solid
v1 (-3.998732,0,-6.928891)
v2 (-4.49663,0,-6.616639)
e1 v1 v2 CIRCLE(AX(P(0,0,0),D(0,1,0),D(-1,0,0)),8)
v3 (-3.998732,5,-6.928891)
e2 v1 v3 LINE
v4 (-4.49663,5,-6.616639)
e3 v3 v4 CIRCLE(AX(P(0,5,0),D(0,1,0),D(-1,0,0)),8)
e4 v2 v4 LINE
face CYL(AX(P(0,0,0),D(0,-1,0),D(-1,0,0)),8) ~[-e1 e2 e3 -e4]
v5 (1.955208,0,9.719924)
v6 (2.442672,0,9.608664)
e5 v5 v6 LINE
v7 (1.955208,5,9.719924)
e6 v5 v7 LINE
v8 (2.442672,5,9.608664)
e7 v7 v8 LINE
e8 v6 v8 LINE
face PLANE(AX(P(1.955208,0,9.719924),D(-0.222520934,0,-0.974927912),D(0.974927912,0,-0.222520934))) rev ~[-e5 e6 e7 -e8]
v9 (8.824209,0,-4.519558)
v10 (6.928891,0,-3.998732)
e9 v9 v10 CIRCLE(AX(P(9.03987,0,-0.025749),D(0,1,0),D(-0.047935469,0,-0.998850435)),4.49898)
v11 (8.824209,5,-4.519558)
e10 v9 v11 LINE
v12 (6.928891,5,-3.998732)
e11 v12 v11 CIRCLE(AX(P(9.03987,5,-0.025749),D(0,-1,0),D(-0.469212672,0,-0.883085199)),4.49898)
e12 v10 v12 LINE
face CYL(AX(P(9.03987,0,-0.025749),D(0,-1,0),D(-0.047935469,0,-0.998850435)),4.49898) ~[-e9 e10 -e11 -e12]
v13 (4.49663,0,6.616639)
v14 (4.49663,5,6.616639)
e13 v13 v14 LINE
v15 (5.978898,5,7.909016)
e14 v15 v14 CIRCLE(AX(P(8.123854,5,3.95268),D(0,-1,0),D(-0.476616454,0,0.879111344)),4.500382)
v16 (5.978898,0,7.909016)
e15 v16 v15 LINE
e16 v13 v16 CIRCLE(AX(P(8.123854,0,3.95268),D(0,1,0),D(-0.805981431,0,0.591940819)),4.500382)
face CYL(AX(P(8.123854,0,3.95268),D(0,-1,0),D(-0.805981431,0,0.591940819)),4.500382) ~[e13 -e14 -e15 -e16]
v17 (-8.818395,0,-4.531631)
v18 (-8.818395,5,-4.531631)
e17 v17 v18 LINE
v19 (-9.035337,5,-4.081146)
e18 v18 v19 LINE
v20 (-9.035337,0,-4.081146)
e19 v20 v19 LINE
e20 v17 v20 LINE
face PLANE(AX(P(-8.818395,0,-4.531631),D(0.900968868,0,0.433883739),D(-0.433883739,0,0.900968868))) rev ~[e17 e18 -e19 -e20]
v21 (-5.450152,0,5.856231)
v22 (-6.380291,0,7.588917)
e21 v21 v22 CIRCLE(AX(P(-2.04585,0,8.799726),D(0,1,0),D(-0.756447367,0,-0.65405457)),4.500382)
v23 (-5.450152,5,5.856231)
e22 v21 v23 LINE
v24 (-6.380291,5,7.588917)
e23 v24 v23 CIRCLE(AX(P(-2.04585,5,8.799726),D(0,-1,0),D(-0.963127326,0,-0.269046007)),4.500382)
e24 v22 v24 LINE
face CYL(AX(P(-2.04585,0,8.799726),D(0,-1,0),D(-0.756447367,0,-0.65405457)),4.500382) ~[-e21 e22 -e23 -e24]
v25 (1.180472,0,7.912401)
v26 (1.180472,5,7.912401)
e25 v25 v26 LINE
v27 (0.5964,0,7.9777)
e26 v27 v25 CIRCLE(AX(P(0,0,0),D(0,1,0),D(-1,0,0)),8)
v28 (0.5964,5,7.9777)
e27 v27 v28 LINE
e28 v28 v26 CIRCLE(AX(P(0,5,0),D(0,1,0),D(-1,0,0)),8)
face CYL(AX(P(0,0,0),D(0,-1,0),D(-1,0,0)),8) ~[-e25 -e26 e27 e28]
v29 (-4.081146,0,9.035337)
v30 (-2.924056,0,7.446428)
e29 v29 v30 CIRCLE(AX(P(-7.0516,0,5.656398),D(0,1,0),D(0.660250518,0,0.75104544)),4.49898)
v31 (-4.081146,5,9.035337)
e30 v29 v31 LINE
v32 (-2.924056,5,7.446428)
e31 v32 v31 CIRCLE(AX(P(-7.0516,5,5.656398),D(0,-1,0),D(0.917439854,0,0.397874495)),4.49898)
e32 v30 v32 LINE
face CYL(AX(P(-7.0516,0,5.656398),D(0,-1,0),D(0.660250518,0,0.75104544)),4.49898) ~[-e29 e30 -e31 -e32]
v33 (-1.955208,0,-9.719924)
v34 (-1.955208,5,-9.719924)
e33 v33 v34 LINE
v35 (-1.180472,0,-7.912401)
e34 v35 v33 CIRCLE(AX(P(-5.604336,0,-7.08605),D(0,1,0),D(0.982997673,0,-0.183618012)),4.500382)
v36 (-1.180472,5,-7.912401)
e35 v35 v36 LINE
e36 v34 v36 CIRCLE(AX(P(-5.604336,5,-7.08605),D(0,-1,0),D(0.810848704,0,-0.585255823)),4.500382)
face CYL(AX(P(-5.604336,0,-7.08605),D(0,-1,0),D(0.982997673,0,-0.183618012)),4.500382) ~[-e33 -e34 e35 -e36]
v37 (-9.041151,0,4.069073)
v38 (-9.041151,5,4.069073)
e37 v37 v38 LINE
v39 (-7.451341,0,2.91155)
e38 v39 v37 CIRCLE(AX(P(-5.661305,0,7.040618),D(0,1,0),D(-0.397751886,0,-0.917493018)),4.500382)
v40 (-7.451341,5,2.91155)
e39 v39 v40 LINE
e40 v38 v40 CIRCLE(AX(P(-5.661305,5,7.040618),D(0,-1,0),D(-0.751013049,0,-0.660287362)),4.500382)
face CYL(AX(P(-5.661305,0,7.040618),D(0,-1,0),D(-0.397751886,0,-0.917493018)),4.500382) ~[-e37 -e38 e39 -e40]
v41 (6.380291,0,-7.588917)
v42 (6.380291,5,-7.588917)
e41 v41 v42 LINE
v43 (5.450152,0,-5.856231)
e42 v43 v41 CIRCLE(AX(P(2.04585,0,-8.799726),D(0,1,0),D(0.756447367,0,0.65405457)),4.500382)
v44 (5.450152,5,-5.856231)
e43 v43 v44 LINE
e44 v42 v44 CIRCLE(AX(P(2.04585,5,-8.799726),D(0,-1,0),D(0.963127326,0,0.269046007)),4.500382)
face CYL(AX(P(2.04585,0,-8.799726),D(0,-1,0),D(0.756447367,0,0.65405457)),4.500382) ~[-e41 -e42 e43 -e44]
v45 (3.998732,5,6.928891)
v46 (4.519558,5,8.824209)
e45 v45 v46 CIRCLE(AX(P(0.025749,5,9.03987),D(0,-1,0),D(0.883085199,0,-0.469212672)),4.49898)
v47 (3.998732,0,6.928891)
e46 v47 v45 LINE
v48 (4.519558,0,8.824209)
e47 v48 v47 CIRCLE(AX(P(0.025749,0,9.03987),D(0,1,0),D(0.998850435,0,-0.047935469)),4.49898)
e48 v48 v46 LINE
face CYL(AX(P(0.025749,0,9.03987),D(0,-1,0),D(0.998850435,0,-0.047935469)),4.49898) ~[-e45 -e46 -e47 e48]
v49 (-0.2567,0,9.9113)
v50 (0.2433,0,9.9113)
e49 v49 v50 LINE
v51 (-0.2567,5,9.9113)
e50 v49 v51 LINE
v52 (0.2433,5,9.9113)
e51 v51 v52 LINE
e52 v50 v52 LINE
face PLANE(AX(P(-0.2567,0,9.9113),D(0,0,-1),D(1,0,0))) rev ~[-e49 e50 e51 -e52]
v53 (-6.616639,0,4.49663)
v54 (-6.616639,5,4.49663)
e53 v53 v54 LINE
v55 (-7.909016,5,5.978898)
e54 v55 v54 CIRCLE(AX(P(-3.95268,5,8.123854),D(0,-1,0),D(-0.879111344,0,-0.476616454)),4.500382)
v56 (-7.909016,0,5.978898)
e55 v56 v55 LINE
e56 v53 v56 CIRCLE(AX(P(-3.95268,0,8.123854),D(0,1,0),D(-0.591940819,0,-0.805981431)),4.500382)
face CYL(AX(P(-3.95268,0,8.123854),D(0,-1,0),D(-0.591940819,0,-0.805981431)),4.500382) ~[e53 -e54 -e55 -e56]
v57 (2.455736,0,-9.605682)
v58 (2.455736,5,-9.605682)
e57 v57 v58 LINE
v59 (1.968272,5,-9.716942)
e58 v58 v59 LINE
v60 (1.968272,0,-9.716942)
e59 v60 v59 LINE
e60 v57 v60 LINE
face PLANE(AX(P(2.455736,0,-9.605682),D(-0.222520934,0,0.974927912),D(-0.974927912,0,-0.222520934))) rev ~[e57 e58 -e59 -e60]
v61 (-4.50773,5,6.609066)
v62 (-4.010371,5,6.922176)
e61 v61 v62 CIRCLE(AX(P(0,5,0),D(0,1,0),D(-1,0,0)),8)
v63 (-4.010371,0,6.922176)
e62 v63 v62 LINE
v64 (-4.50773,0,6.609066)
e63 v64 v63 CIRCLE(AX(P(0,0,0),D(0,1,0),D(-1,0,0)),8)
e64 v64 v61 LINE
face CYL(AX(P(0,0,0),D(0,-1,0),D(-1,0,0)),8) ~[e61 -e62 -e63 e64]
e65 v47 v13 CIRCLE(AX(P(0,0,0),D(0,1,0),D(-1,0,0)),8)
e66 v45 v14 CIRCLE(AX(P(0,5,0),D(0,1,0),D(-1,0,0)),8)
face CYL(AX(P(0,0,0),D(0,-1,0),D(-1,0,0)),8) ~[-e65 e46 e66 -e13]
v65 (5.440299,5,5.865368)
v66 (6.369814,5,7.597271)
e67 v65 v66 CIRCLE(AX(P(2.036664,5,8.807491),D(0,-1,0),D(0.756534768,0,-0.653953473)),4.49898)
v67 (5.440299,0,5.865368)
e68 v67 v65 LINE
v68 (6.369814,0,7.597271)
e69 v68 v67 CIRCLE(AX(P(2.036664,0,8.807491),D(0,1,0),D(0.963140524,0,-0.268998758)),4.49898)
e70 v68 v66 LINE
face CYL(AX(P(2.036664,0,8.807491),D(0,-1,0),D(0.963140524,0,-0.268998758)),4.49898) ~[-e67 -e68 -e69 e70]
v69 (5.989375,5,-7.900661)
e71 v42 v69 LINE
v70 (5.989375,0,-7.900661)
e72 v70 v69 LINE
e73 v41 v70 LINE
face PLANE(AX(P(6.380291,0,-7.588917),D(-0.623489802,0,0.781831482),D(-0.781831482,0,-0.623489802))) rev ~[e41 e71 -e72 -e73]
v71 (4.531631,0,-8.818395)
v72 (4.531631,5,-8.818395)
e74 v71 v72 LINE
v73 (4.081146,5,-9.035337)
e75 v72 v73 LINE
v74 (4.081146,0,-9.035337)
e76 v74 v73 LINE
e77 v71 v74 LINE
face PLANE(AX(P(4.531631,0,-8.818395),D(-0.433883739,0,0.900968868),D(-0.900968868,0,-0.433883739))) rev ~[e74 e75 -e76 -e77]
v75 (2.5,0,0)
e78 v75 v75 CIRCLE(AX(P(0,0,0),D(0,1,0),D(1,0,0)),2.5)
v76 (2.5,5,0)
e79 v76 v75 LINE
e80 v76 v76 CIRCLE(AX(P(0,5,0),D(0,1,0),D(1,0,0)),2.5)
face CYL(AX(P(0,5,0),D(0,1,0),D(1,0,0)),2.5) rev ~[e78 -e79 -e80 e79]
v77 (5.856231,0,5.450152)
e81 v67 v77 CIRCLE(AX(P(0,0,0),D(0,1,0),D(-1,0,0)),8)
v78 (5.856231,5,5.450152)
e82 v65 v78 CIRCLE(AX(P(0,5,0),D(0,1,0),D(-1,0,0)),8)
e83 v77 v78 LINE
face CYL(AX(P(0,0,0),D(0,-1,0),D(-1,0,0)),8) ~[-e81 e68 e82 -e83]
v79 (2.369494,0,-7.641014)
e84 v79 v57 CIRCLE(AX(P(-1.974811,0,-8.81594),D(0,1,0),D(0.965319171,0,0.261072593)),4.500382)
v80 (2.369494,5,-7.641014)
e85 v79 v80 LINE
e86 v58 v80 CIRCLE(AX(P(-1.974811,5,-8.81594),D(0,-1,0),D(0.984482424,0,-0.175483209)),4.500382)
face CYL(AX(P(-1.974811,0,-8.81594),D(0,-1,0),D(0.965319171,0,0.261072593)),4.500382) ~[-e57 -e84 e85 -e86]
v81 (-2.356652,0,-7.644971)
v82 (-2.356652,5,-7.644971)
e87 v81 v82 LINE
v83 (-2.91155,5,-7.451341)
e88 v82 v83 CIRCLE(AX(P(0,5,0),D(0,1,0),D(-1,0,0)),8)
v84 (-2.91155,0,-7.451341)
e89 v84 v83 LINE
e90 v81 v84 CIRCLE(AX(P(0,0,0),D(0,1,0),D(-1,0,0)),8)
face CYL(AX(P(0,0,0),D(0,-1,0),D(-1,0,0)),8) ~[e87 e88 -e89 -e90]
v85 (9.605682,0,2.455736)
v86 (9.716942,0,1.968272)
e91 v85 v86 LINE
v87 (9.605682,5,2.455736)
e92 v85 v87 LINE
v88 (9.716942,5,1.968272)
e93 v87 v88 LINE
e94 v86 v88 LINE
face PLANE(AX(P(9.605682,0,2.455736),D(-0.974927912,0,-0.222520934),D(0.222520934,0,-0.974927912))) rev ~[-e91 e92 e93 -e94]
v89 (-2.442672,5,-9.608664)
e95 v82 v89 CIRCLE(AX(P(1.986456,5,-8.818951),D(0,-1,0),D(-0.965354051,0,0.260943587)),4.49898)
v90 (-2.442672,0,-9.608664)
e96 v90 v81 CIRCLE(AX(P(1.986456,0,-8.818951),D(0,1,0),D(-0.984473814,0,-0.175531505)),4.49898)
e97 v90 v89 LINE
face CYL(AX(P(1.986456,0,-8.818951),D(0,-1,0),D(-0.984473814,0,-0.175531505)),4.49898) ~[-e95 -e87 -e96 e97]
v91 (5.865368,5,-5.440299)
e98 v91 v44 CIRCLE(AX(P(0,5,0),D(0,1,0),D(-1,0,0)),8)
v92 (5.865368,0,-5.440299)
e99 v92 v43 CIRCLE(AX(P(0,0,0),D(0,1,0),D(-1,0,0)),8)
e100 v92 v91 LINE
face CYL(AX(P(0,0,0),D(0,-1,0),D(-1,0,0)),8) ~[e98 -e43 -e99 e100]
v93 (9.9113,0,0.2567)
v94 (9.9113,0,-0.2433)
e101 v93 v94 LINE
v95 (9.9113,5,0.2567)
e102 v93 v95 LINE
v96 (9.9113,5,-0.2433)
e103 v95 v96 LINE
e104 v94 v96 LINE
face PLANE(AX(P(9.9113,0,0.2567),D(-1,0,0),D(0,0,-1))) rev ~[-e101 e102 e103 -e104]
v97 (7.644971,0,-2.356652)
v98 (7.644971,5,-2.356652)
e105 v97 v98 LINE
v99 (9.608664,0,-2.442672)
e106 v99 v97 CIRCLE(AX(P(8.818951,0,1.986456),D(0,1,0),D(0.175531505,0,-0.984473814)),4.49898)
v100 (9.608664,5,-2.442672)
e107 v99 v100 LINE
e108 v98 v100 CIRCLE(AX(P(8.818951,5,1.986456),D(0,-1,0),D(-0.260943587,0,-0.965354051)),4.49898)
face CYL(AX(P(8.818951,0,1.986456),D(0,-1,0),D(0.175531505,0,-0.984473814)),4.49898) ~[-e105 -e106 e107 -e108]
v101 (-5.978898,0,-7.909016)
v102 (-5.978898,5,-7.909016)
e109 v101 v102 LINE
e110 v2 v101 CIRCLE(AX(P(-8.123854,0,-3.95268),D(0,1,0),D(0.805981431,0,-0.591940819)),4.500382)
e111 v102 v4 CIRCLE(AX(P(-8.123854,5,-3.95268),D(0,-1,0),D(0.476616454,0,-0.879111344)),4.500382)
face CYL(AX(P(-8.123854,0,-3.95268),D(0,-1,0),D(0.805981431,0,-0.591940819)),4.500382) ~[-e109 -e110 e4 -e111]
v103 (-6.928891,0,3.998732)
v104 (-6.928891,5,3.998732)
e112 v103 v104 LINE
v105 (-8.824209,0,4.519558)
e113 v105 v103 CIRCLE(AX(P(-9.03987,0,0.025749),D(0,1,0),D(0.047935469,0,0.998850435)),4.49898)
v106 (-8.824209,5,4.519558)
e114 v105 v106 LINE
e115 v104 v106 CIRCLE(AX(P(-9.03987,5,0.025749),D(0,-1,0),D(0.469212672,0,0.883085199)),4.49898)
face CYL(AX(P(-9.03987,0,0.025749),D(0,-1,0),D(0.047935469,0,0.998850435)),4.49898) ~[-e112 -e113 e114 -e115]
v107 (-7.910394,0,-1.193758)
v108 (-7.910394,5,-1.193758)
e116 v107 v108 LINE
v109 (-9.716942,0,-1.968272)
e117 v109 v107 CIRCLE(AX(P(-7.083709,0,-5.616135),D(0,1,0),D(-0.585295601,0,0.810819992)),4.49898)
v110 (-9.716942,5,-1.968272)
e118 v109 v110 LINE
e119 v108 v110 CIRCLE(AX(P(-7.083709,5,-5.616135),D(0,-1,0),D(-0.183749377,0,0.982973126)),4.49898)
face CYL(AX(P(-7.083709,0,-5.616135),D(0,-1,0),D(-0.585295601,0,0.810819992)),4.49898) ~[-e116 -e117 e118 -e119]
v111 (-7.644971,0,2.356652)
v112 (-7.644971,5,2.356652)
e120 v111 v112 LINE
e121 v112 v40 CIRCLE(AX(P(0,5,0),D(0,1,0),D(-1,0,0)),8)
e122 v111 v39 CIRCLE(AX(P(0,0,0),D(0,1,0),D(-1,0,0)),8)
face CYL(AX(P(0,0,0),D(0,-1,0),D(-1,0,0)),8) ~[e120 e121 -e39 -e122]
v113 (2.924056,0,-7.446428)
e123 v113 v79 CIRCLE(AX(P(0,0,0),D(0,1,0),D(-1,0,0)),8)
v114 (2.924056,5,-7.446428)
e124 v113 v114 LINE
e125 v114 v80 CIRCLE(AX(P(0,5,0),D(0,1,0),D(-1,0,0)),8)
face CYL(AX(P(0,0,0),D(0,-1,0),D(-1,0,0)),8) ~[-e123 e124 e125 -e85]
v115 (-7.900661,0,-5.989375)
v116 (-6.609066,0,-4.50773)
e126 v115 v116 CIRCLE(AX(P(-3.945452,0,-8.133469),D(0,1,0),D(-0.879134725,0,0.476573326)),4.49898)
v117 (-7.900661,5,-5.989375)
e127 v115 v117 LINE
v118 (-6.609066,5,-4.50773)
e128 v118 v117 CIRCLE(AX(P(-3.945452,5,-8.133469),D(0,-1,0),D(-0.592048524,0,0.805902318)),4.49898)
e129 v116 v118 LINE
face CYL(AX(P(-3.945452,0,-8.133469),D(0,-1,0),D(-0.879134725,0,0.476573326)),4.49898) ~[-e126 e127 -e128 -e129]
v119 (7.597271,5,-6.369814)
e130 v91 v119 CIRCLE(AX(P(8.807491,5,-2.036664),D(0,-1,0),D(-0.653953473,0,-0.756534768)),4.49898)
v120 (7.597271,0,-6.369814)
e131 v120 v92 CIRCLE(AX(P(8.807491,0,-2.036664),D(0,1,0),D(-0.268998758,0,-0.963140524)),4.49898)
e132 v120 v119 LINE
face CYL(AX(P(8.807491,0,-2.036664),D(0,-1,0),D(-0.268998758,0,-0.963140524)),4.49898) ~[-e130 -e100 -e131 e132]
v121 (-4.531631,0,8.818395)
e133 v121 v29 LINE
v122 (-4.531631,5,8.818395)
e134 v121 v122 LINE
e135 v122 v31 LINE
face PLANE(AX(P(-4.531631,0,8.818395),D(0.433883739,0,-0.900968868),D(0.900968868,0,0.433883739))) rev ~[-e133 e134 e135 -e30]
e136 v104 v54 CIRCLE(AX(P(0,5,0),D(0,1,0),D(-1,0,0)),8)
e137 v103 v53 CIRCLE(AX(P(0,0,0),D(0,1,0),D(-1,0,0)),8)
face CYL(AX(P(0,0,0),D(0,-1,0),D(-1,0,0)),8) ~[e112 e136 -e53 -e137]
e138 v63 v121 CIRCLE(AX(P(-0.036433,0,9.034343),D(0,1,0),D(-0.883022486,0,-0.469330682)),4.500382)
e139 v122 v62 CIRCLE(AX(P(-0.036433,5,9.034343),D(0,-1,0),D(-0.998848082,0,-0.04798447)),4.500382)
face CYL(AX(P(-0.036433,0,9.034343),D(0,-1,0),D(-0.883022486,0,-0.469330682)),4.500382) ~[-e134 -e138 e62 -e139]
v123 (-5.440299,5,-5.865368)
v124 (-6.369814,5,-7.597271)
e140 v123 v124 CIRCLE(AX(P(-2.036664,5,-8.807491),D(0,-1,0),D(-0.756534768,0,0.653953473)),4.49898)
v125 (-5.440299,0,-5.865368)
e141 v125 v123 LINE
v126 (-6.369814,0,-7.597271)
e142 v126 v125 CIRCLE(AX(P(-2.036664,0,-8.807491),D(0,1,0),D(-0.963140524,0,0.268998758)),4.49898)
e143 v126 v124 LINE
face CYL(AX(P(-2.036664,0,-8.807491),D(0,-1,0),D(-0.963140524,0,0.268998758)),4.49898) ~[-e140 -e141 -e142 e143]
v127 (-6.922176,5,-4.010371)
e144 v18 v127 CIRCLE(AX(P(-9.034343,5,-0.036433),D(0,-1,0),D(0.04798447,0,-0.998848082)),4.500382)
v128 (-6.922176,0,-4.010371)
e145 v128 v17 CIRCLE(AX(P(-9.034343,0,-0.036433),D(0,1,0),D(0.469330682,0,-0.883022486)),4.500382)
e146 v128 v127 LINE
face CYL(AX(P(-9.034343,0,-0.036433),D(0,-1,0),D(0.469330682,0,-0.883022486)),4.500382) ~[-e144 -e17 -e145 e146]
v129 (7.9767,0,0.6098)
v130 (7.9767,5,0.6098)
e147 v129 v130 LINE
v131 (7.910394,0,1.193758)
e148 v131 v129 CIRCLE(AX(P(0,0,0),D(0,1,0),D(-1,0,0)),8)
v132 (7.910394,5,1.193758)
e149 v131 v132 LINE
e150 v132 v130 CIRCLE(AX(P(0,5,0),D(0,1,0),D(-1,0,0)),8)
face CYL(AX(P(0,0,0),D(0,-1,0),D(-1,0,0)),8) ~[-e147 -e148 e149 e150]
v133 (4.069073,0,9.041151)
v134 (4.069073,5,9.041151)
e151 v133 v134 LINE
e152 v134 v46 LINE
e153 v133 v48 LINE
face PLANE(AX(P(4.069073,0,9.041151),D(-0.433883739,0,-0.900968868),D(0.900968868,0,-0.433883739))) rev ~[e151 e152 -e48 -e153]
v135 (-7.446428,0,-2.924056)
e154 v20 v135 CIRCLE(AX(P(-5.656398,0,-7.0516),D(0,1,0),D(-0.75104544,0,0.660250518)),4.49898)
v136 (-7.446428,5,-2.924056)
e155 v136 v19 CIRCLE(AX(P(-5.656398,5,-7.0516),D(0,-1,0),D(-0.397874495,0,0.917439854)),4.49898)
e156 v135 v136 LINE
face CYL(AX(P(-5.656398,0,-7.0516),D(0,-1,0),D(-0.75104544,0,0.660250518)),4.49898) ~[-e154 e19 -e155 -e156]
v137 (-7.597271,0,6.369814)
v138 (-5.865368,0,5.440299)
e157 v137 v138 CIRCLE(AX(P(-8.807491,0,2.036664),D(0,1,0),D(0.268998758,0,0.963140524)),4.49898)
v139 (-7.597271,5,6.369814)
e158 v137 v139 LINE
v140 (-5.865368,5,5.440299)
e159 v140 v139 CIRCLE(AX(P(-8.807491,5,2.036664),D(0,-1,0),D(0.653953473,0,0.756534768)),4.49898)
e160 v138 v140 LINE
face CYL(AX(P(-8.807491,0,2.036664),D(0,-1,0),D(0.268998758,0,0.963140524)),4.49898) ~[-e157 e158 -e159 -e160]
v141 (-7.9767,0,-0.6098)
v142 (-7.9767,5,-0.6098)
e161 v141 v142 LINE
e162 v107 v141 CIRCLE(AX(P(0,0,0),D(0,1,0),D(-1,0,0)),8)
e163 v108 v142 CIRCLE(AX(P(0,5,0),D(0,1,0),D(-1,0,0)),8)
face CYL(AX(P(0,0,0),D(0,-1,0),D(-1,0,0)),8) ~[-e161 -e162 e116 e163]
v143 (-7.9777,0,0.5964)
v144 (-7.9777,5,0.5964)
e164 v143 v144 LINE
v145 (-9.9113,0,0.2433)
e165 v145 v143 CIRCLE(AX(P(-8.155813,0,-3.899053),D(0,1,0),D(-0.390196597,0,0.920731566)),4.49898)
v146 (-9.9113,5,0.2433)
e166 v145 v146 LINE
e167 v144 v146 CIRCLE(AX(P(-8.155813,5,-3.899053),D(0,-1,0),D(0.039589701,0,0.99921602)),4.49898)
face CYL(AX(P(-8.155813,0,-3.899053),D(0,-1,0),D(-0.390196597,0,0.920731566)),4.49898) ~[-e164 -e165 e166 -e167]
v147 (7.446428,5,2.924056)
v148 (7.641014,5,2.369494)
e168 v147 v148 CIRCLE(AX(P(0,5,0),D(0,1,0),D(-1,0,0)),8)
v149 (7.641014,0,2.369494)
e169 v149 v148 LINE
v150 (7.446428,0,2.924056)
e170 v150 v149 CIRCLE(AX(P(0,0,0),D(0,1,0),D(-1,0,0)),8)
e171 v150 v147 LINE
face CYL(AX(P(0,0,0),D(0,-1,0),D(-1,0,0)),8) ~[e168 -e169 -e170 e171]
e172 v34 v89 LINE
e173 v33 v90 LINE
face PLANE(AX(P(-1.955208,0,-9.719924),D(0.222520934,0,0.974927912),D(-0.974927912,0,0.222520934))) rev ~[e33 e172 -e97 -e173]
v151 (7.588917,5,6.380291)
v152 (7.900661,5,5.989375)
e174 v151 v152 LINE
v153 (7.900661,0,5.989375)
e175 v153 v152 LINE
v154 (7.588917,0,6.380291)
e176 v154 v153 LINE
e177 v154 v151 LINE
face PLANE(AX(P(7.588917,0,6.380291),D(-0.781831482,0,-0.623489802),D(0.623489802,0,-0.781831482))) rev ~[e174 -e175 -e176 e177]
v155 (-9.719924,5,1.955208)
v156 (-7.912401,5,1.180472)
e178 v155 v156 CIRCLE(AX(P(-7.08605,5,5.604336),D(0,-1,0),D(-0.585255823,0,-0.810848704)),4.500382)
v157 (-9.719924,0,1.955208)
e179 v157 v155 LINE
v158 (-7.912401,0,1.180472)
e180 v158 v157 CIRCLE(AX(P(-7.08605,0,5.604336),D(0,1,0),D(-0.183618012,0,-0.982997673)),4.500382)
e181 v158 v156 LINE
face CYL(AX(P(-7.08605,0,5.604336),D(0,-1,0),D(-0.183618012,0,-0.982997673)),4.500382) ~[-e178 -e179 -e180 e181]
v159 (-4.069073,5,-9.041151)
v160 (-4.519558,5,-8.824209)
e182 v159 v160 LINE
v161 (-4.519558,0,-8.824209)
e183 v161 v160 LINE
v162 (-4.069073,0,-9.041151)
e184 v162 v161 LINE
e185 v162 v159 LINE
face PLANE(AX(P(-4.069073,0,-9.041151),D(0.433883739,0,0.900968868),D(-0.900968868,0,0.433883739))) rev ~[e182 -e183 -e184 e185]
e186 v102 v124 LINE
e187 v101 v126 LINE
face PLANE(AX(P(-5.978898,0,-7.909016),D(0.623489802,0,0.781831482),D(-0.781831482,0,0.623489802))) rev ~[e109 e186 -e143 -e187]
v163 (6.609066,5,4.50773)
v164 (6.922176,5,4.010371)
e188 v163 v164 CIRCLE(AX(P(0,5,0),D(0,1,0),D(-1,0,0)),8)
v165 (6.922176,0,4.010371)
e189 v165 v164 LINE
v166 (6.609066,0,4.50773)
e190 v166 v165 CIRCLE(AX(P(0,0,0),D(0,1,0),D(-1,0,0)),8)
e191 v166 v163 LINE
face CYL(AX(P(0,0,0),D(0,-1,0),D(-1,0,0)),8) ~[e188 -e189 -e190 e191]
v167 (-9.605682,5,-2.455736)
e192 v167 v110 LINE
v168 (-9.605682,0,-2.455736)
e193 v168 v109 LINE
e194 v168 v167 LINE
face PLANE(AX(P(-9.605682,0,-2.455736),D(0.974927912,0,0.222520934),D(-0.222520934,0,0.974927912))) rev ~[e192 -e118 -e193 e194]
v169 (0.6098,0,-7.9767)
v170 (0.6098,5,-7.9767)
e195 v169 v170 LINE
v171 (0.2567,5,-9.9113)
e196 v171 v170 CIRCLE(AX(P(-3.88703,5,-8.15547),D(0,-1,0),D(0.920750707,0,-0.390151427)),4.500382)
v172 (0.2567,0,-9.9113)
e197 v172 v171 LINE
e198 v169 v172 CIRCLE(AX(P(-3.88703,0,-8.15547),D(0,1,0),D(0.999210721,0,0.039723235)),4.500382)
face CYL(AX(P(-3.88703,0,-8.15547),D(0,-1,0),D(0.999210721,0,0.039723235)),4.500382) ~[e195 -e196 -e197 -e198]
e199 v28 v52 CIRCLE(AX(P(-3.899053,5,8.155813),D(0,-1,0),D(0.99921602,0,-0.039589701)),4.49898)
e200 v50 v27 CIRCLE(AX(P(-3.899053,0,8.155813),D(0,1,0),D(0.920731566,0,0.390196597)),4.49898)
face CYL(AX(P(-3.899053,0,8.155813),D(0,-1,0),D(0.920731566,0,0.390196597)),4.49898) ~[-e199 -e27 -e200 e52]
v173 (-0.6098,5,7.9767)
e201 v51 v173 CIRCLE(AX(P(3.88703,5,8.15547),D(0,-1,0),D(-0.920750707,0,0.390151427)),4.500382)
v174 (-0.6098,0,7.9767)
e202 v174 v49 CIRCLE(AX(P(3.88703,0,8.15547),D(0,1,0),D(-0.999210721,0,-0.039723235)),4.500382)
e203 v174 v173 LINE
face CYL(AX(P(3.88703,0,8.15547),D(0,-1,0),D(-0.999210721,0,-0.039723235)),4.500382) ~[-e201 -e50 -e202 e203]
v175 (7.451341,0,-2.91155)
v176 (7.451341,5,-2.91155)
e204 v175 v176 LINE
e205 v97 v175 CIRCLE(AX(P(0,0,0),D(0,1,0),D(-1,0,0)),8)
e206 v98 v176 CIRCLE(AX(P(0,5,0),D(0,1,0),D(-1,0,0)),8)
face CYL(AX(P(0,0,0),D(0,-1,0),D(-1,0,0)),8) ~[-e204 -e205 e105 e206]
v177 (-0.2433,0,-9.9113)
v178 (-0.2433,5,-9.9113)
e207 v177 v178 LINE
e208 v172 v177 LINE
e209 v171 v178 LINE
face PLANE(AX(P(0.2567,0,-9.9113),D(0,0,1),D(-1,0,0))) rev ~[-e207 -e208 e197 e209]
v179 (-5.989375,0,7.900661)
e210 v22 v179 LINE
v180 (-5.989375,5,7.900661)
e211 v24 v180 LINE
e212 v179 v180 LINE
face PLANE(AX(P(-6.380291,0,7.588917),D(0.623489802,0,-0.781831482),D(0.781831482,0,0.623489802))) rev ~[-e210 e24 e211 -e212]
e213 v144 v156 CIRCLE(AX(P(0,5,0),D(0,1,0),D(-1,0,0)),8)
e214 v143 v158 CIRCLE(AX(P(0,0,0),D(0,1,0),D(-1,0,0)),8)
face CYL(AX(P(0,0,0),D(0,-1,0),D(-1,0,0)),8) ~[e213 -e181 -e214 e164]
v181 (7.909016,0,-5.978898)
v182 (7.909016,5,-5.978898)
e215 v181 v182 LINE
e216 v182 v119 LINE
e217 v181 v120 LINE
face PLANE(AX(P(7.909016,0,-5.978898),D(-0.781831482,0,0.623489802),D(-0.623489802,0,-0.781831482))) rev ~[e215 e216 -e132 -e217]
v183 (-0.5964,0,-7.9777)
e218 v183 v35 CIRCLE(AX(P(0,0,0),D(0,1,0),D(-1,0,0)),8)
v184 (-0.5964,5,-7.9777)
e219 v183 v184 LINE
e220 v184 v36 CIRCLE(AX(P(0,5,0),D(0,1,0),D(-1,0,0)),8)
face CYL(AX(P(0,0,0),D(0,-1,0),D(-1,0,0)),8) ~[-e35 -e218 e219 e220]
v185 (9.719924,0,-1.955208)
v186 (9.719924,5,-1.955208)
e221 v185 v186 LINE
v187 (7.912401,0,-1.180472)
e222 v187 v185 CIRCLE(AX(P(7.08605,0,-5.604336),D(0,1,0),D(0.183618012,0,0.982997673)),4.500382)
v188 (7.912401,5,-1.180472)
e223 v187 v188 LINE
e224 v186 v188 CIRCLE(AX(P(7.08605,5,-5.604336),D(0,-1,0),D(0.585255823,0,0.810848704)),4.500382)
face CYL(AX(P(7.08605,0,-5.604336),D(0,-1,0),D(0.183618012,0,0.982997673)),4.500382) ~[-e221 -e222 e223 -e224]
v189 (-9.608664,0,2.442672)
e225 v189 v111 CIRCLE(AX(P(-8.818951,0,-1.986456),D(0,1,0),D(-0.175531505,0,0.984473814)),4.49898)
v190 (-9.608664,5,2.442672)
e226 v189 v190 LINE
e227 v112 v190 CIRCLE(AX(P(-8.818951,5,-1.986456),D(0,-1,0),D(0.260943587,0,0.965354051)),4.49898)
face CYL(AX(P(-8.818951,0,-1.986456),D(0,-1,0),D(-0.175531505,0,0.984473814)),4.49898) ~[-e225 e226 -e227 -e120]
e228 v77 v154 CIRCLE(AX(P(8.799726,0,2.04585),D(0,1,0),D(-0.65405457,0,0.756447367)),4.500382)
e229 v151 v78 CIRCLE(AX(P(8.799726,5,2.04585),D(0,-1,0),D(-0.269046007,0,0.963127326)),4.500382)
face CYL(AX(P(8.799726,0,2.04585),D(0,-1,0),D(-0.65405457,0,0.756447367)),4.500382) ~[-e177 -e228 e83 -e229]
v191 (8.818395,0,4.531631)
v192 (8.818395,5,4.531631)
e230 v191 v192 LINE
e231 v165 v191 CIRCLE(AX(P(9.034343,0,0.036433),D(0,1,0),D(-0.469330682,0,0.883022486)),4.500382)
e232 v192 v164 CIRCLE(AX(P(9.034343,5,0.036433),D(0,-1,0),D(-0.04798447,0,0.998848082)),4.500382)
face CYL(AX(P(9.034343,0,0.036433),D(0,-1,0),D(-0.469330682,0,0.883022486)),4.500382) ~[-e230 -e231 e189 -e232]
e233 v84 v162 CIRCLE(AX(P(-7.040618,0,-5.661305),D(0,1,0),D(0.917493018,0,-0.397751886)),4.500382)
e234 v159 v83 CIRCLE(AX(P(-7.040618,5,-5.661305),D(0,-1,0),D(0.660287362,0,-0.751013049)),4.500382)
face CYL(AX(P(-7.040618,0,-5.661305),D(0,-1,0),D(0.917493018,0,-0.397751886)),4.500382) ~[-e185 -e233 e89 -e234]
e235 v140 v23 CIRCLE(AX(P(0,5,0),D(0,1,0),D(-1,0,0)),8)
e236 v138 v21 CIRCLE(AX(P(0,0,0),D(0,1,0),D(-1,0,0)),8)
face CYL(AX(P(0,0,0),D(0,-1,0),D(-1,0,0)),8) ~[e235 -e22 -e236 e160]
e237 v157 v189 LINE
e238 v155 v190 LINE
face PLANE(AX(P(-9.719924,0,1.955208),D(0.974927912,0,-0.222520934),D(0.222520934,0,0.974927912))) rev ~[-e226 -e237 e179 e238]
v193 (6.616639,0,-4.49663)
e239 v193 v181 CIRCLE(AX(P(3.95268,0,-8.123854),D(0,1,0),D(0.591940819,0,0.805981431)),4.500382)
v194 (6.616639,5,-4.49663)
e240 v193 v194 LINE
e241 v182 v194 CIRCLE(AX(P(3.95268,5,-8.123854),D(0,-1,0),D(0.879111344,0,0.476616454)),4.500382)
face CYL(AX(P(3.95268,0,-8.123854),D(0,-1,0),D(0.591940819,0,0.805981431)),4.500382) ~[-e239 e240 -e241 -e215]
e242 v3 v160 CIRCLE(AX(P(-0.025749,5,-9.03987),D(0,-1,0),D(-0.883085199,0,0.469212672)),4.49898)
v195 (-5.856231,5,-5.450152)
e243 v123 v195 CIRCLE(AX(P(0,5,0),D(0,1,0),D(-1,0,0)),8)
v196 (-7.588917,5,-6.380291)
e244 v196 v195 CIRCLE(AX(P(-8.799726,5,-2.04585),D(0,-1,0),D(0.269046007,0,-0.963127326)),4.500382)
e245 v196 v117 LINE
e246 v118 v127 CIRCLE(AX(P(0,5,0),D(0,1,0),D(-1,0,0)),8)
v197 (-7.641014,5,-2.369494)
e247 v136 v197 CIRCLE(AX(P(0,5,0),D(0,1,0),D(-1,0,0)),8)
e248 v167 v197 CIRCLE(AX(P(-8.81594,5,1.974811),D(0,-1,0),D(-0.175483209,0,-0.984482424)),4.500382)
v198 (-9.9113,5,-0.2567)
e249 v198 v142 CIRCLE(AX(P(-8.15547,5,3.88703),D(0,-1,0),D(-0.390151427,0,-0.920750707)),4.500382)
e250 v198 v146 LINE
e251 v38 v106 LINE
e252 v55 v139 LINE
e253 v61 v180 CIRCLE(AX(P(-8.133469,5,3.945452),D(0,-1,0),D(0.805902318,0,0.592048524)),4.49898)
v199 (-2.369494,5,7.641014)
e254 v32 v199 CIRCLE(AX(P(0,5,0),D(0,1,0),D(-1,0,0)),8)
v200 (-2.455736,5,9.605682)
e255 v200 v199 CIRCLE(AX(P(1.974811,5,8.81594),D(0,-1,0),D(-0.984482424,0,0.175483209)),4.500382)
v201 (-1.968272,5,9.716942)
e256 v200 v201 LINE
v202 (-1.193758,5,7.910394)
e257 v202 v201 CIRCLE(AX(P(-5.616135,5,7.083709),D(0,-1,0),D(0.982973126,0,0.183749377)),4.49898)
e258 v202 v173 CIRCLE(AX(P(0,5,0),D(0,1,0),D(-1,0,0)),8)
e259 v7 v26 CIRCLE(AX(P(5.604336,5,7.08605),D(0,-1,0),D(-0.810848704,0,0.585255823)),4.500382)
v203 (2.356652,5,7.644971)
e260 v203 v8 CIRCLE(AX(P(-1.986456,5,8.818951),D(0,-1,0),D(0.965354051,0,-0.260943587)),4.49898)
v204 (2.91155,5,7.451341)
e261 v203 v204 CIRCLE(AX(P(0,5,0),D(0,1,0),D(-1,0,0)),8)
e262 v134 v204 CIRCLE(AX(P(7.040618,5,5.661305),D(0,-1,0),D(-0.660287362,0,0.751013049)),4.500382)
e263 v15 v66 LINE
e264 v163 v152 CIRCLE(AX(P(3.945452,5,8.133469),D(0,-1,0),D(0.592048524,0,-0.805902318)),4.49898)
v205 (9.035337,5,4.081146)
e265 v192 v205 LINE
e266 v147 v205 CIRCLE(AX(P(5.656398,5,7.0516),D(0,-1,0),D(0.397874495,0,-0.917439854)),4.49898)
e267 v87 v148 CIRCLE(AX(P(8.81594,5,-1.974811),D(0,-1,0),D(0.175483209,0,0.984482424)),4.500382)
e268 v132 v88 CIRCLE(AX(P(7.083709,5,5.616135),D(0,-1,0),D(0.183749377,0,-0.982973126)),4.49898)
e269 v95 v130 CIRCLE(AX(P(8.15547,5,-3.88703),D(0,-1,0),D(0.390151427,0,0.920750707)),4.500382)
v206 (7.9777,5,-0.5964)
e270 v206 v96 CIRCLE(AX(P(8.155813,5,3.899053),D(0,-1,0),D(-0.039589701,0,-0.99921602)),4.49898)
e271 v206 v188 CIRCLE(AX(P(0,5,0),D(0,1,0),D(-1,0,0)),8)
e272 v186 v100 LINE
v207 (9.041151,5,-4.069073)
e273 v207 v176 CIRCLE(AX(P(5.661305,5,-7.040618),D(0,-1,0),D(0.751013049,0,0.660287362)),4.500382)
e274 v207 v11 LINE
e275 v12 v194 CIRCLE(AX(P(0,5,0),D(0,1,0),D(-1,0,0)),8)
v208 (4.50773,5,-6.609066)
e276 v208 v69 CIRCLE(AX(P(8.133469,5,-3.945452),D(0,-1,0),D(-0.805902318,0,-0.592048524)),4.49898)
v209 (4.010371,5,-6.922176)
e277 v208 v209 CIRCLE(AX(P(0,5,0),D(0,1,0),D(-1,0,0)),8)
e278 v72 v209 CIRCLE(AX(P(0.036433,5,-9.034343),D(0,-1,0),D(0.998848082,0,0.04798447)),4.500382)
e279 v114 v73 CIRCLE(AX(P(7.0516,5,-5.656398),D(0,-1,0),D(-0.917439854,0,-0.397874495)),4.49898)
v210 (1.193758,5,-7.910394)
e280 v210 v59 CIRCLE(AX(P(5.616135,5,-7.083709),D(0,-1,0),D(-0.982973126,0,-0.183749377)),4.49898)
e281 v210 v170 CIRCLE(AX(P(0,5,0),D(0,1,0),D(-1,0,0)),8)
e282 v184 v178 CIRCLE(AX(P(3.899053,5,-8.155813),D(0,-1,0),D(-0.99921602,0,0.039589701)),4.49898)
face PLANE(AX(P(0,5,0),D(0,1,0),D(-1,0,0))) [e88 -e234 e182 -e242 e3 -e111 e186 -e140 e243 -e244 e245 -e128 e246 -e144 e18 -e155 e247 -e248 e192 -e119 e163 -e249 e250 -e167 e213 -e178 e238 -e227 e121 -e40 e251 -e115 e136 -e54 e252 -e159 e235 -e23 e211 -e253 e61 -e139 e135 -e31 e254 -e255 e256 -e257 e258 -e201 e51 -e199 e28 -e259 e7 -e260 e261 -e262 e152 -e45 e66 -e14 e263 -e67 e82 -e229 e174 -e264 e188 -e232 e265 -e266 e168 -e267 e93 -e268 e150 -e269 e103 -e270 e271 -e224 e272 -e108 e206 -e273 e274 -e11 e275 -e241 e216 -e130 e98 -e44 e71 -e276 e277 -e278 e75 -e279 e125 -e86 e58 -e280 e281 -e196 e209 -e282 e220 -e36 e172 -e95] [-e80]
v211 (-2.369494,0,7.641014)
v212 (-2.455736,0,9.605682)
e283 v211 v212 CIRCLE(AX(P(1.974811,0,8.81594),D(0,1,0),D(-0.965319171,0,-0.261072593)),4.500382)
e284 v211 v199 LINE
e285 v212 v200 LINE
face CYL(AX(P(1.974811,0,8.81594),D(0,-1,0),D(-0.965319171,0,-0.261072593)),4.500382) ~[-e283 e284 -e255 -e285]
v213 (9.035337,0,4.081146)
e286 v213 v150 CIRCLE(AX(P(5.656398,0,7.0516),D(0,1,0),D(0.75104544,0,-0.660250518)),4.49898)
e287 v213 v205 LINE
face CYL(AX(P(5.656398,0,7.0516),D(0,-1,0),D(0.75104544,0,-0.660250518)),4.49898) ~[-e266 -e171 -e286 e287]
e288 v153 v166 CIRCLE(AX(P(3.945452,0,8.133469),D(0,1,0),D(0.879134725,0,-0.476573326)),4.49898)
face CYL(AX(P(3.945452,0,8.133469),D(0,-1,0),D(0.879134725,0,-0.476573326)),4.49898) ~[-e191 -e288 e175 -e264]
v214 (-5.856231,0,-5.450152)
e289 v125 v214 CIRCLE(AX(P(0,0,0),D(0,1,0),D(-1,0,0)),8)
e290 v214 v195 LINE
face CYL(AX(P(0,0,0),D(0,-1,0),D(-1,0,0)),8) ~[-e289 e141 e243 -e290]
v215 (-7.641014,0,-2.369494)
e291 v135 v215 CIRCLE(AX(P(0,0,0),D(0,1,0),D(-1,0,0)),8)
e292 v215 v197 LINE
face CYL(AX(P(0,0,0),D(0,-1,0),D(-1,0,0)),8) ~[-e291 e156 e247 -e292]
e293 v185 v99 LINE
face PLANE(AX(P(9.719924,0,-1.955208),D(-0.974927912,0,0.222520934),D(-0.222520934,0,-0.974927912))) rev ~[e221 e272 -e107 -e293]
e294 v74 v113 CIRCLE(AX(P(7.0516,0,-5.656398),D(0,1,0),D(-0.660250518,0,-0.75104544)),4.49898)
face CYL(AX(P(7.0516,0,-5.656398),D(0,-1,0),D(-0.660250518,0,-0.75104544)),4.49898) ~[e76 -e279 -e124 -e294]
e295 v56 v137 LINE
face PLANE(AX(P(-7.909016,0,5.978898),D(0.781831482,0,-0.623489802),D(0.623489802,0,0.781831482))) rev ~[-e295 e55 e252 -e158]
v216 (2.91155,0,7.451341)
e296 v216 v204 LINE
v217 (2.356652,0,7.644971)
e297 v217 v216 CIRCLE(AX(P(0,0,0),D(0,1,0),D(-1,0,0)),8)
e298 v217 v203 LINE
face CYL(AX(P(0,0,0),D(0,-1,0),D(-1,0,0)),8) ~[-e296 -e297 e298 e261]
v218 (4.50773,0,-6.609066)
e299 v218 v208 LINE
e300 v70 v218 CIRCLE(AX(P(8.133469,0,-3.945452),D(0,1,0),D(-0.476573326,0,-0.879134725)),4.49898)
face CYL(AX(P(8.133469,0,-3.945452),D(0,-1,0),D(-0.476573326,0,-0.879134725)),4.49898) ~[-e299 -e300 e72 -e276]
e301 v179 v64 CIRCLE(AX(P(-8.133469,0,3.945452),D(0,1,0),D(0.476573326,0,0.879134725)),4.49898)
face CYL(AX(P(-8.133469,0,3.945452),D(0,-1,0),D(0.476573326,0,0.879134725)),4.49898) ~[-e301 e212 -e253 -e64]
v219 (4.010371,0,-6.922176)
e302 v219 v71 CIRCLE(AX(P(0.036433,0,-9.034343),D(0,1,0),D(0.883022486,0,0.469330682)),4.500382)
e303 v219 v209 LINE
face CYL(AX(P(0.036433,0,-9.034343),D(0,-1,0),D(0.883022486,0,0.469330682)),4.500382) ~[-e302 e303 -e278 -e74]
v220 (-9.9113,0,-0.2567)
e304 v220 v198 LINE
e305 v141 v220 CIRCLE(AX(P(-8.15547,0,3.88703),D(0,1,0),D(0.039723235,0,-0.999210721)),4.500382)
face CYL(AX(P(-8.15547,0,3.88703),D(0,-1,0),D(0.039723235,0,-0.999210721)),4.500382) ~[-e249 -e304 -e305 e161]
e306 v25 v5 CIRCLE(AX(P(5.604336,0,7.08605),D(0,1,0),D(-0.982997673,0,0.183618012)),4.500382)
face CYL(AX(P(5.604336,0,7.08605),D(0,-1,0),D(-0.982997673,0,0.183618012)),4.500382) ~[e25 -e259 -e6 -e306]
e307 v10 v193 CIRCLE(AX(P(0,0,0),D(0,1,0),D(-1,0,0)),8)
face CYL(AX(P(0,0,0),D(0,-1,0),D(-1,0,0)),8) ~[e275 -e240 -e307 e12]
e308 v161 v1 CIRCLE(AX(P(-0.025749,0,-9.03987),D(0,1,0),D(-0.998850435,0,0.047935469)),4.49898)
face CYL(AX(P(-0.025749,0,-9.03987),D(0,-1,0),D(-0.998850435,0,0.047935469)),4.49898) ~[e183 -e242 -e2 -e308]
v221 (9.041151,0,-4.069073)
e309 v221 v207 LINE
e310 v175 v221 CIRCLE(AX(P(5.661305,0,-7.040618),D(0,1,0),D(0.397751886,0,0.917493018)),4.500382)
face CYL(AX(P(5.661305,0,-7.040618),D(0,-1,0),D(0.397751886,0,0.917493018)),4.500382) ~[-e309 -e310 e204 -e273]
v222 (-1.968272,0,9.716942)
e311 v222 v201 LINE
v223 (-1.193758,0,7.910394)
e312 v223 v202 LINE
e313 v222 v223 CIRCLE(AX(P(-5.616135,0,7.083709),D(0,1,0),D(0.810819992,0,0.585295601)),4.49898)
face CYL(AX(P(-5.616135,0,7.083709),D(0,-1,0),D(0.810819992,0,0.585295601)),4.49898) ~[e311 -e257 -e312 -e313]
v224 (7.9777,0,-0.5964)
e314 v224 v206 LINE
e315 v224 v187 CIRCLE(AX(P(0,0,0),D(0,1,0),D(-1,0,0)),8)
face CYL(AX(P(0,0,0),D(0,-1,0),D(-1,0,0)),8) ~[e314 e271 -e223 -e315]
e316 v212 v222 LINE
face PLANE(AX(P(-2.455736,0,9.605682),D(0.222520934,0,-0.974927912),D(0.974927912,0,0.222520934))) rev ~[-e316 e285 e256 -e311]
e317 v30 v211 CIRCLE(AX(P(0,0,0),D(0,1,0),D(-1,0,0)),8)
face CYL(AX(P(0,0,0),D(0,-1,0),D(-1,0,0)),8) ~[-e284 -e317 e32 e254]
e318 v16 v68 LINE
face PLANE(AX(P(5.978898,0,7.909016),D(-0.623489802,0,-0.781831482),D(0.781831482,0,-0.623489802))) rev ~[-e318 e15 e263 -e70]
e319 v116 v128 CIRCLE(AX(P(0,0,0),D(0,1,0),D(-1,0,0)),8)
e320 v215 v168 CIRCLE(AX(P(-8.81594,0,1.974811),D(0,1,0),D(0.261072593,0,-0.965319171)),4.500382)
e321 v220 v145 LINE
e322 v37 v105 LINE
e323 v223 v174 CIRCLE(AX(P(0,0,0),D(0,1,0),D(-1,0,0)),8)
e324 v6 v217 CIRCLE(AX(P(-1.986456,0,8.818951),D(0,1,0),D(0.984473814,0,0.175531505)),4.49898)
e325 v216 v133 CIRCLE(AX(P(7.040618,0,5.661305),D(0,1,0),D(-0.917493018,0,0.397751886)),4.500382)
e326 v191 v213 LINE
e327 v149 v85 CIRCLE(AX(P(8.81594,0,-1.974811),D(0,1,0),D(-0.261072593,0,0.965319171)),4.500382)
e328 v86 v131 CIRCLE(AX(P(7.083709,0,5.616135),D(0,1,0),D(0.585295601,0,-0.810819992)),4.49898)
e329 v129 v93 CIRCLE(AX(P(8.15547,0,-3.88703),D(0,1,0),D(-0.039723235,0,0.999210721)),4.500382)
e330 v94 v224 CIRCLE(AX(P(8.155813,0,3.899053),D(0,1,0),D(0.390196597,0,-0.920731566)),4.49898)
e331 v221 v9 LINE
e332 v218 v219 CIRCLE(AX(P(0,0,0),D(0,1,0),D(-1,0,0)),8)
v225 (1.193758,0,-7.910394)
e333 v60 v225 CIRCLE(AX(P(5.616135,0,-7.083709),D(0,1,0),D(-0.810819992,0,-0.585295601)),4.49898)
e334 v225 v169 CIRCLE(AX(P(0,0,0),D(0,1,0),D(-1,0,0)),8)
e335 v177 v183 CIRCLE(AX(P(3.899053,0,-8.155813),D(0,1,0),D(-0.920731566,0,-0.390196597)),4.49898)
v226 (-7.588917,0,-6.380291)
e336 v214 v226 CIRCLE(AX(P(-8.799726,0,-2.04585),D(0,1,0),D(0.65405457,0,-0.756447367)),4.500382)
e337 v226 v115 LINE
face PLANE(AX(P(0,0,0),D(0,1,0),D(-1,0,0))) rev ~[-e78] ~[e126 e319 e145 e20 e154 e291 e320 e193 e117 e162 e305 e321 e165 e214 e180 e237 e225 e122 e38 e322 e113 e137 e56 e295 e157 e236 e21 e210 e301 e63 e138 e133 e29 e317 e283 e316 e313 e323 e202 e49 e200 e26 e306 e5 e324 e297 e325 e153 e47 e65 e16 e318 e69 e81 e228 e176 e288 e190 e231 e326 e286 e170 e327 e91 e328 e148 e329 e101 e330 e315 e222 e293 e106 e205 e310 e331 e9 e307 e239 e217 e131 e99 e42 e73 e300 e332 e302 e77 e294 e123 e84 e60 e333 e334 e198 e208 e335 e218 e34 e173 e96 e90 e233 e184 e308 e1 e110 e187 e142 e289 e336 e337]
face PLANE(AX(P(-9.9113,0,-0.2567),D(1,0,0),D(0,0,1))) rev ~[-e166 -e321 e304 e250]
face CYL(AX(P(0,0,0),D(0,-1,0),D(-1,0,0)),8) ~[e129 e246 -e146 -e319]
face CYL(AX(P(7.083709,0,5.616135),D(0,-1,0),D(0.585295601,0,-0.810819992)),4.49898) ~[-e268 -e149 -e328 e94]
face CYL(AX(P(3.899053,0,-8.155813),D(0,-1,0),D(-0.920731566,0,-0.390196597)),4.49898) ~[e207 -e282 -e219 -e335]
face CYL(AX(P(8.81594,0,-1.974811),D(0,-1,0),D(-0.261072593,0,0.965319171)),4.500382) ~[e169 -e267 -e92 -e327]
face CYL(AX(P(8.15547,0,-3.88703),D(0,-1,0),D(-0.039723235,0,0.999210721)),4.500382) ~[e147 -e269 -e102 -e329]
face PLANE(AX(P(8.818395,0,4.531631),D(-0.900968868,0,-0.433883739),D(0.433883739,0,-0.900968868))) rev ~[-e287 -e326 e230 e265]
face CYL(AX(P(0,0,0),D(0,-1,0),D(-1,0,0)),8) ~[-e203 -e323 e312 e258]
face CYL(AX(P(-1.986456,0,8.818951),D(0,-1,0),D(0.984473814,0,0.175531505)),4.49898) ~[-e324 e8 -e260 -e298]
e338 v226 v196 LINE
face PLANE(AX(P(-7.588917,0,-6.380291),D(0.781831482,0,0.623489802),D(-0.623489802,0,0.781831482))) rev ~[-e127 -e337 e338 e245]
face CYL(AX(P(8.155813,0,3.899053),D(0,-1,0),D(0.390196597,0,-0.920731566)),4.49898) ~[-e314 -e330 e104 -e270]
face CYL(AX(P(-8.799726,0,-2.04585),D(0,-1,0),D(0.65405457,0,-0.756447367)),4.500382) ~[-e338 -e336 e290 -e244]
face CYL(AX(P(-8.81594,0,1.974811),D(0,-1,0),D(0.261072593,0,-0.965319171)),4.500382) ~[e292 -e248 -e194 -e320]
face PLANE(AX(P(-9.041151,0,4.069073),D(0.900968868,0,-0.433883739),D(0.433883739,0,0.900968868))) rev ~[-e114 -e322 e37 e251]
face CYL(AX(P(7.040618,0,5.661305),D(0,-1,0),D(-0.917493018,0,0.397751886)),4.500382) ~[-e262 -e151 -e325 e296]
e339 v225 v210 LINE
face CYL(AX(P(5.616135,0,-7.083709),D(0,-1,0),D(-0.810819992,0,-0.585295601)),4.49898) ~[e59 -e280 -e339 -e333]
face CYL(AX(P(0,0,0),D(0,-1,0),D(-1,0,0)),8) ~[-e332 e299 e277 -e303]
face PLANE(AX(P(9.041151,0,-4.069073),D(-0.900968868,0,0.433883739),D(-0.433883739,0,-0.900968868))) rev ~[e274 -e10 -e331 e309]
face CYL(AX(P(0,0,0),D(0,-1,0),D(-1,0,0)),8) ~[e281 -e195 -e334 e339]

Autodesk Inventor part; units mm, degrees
ref_plane "YZ Plane" through (0, 0, 0) normal (1, 0, 0) x (0, 1, 0)
ref_plane "XZ Plane" through (0, 0, 0) normal (0, 1, 0) x (-1, 0, 0)
ref_plane "XY Plane" through (0, 0, 0) normal (0, 0, 1) x (1, 0, 0)
sketch "Sketch1" plane through (0, 0, 0) normal (0, 1, 0) x (-1, 0, 0)
  circle A0 centre (0, 0) radius 8
  circle A1 centre (0, 0) radius 2
  line L0 (7.9113, 0.5933) -> (7.9113, -0.6067)
  line L1 (9.9113, -0.2567) -> (9.9113, 0.2433)
  line L2 (7.6237, -0.0067) -> (9.0479, -0.0067) construction
  arc A2 (9.9113, 0.2433) -> (7.9113, 0.5933) centre (8.1555, -3.9001) ccw construction
  arc A3 (7.9113, -0.6067) -> (9.9113, -0.2567) centre (8.1555, 3.8866) ccw construction
  arc A4 (9.9113, 0.2433) -> (7.9113, 0.5933) centre (8.1555, -3.9001) ccw construction
  arc A5 (9.9113, 0.2433) -> (7.9777, 0.5964) centre (8.1555, -3.9001) ccw
  arc A6 (7.9767, -0.6098) -> (9.9113, -0.2567) centre (8.1555, 3.8866) ccw
  line L3 (9.4, 0) -> (9.4, -0.4379)
  line L4 (9.4, 0) -> (9.4, 0.4244)
  arc A7 (5.296, -1.8919) -> (5.296, 1.8784) centre (4.6281, -0.0067) ccw
  circle A8 centre (0, 0) radius 8
  dimension "d0" = 16
  dimension "d1" = 4
  dimension "d2" = 0.25
  dimension "d3" = 0.25
  dimension "d4" = 0.6
  dimension "d7" = 1.2
  dimension "d8" = 4.5
  dimension "d10" = 2
extrude "Extrusion1" add sketch "Sketch1" along normal blind 5
pattern_circular "Circular Pattern1" count 28 over 360 about axis through (0, 0, 0) along (0, 1, 0) of "Extrusion1"
sketch "Sketch8" plane through (0, 5, 0) normal (0, 1, 0) x (1, 0, 0)
  circle A0 centre (0, 0) radius 2.5
  circle A1 centre (0, 0) radius 2
  dimension "d49" = 5
  dimension "d50" = 4
extrude "Extrusion6" cut sketch "Sketch8" against normal blind 13.8125
properties part number "Solo (SG) Gear"
